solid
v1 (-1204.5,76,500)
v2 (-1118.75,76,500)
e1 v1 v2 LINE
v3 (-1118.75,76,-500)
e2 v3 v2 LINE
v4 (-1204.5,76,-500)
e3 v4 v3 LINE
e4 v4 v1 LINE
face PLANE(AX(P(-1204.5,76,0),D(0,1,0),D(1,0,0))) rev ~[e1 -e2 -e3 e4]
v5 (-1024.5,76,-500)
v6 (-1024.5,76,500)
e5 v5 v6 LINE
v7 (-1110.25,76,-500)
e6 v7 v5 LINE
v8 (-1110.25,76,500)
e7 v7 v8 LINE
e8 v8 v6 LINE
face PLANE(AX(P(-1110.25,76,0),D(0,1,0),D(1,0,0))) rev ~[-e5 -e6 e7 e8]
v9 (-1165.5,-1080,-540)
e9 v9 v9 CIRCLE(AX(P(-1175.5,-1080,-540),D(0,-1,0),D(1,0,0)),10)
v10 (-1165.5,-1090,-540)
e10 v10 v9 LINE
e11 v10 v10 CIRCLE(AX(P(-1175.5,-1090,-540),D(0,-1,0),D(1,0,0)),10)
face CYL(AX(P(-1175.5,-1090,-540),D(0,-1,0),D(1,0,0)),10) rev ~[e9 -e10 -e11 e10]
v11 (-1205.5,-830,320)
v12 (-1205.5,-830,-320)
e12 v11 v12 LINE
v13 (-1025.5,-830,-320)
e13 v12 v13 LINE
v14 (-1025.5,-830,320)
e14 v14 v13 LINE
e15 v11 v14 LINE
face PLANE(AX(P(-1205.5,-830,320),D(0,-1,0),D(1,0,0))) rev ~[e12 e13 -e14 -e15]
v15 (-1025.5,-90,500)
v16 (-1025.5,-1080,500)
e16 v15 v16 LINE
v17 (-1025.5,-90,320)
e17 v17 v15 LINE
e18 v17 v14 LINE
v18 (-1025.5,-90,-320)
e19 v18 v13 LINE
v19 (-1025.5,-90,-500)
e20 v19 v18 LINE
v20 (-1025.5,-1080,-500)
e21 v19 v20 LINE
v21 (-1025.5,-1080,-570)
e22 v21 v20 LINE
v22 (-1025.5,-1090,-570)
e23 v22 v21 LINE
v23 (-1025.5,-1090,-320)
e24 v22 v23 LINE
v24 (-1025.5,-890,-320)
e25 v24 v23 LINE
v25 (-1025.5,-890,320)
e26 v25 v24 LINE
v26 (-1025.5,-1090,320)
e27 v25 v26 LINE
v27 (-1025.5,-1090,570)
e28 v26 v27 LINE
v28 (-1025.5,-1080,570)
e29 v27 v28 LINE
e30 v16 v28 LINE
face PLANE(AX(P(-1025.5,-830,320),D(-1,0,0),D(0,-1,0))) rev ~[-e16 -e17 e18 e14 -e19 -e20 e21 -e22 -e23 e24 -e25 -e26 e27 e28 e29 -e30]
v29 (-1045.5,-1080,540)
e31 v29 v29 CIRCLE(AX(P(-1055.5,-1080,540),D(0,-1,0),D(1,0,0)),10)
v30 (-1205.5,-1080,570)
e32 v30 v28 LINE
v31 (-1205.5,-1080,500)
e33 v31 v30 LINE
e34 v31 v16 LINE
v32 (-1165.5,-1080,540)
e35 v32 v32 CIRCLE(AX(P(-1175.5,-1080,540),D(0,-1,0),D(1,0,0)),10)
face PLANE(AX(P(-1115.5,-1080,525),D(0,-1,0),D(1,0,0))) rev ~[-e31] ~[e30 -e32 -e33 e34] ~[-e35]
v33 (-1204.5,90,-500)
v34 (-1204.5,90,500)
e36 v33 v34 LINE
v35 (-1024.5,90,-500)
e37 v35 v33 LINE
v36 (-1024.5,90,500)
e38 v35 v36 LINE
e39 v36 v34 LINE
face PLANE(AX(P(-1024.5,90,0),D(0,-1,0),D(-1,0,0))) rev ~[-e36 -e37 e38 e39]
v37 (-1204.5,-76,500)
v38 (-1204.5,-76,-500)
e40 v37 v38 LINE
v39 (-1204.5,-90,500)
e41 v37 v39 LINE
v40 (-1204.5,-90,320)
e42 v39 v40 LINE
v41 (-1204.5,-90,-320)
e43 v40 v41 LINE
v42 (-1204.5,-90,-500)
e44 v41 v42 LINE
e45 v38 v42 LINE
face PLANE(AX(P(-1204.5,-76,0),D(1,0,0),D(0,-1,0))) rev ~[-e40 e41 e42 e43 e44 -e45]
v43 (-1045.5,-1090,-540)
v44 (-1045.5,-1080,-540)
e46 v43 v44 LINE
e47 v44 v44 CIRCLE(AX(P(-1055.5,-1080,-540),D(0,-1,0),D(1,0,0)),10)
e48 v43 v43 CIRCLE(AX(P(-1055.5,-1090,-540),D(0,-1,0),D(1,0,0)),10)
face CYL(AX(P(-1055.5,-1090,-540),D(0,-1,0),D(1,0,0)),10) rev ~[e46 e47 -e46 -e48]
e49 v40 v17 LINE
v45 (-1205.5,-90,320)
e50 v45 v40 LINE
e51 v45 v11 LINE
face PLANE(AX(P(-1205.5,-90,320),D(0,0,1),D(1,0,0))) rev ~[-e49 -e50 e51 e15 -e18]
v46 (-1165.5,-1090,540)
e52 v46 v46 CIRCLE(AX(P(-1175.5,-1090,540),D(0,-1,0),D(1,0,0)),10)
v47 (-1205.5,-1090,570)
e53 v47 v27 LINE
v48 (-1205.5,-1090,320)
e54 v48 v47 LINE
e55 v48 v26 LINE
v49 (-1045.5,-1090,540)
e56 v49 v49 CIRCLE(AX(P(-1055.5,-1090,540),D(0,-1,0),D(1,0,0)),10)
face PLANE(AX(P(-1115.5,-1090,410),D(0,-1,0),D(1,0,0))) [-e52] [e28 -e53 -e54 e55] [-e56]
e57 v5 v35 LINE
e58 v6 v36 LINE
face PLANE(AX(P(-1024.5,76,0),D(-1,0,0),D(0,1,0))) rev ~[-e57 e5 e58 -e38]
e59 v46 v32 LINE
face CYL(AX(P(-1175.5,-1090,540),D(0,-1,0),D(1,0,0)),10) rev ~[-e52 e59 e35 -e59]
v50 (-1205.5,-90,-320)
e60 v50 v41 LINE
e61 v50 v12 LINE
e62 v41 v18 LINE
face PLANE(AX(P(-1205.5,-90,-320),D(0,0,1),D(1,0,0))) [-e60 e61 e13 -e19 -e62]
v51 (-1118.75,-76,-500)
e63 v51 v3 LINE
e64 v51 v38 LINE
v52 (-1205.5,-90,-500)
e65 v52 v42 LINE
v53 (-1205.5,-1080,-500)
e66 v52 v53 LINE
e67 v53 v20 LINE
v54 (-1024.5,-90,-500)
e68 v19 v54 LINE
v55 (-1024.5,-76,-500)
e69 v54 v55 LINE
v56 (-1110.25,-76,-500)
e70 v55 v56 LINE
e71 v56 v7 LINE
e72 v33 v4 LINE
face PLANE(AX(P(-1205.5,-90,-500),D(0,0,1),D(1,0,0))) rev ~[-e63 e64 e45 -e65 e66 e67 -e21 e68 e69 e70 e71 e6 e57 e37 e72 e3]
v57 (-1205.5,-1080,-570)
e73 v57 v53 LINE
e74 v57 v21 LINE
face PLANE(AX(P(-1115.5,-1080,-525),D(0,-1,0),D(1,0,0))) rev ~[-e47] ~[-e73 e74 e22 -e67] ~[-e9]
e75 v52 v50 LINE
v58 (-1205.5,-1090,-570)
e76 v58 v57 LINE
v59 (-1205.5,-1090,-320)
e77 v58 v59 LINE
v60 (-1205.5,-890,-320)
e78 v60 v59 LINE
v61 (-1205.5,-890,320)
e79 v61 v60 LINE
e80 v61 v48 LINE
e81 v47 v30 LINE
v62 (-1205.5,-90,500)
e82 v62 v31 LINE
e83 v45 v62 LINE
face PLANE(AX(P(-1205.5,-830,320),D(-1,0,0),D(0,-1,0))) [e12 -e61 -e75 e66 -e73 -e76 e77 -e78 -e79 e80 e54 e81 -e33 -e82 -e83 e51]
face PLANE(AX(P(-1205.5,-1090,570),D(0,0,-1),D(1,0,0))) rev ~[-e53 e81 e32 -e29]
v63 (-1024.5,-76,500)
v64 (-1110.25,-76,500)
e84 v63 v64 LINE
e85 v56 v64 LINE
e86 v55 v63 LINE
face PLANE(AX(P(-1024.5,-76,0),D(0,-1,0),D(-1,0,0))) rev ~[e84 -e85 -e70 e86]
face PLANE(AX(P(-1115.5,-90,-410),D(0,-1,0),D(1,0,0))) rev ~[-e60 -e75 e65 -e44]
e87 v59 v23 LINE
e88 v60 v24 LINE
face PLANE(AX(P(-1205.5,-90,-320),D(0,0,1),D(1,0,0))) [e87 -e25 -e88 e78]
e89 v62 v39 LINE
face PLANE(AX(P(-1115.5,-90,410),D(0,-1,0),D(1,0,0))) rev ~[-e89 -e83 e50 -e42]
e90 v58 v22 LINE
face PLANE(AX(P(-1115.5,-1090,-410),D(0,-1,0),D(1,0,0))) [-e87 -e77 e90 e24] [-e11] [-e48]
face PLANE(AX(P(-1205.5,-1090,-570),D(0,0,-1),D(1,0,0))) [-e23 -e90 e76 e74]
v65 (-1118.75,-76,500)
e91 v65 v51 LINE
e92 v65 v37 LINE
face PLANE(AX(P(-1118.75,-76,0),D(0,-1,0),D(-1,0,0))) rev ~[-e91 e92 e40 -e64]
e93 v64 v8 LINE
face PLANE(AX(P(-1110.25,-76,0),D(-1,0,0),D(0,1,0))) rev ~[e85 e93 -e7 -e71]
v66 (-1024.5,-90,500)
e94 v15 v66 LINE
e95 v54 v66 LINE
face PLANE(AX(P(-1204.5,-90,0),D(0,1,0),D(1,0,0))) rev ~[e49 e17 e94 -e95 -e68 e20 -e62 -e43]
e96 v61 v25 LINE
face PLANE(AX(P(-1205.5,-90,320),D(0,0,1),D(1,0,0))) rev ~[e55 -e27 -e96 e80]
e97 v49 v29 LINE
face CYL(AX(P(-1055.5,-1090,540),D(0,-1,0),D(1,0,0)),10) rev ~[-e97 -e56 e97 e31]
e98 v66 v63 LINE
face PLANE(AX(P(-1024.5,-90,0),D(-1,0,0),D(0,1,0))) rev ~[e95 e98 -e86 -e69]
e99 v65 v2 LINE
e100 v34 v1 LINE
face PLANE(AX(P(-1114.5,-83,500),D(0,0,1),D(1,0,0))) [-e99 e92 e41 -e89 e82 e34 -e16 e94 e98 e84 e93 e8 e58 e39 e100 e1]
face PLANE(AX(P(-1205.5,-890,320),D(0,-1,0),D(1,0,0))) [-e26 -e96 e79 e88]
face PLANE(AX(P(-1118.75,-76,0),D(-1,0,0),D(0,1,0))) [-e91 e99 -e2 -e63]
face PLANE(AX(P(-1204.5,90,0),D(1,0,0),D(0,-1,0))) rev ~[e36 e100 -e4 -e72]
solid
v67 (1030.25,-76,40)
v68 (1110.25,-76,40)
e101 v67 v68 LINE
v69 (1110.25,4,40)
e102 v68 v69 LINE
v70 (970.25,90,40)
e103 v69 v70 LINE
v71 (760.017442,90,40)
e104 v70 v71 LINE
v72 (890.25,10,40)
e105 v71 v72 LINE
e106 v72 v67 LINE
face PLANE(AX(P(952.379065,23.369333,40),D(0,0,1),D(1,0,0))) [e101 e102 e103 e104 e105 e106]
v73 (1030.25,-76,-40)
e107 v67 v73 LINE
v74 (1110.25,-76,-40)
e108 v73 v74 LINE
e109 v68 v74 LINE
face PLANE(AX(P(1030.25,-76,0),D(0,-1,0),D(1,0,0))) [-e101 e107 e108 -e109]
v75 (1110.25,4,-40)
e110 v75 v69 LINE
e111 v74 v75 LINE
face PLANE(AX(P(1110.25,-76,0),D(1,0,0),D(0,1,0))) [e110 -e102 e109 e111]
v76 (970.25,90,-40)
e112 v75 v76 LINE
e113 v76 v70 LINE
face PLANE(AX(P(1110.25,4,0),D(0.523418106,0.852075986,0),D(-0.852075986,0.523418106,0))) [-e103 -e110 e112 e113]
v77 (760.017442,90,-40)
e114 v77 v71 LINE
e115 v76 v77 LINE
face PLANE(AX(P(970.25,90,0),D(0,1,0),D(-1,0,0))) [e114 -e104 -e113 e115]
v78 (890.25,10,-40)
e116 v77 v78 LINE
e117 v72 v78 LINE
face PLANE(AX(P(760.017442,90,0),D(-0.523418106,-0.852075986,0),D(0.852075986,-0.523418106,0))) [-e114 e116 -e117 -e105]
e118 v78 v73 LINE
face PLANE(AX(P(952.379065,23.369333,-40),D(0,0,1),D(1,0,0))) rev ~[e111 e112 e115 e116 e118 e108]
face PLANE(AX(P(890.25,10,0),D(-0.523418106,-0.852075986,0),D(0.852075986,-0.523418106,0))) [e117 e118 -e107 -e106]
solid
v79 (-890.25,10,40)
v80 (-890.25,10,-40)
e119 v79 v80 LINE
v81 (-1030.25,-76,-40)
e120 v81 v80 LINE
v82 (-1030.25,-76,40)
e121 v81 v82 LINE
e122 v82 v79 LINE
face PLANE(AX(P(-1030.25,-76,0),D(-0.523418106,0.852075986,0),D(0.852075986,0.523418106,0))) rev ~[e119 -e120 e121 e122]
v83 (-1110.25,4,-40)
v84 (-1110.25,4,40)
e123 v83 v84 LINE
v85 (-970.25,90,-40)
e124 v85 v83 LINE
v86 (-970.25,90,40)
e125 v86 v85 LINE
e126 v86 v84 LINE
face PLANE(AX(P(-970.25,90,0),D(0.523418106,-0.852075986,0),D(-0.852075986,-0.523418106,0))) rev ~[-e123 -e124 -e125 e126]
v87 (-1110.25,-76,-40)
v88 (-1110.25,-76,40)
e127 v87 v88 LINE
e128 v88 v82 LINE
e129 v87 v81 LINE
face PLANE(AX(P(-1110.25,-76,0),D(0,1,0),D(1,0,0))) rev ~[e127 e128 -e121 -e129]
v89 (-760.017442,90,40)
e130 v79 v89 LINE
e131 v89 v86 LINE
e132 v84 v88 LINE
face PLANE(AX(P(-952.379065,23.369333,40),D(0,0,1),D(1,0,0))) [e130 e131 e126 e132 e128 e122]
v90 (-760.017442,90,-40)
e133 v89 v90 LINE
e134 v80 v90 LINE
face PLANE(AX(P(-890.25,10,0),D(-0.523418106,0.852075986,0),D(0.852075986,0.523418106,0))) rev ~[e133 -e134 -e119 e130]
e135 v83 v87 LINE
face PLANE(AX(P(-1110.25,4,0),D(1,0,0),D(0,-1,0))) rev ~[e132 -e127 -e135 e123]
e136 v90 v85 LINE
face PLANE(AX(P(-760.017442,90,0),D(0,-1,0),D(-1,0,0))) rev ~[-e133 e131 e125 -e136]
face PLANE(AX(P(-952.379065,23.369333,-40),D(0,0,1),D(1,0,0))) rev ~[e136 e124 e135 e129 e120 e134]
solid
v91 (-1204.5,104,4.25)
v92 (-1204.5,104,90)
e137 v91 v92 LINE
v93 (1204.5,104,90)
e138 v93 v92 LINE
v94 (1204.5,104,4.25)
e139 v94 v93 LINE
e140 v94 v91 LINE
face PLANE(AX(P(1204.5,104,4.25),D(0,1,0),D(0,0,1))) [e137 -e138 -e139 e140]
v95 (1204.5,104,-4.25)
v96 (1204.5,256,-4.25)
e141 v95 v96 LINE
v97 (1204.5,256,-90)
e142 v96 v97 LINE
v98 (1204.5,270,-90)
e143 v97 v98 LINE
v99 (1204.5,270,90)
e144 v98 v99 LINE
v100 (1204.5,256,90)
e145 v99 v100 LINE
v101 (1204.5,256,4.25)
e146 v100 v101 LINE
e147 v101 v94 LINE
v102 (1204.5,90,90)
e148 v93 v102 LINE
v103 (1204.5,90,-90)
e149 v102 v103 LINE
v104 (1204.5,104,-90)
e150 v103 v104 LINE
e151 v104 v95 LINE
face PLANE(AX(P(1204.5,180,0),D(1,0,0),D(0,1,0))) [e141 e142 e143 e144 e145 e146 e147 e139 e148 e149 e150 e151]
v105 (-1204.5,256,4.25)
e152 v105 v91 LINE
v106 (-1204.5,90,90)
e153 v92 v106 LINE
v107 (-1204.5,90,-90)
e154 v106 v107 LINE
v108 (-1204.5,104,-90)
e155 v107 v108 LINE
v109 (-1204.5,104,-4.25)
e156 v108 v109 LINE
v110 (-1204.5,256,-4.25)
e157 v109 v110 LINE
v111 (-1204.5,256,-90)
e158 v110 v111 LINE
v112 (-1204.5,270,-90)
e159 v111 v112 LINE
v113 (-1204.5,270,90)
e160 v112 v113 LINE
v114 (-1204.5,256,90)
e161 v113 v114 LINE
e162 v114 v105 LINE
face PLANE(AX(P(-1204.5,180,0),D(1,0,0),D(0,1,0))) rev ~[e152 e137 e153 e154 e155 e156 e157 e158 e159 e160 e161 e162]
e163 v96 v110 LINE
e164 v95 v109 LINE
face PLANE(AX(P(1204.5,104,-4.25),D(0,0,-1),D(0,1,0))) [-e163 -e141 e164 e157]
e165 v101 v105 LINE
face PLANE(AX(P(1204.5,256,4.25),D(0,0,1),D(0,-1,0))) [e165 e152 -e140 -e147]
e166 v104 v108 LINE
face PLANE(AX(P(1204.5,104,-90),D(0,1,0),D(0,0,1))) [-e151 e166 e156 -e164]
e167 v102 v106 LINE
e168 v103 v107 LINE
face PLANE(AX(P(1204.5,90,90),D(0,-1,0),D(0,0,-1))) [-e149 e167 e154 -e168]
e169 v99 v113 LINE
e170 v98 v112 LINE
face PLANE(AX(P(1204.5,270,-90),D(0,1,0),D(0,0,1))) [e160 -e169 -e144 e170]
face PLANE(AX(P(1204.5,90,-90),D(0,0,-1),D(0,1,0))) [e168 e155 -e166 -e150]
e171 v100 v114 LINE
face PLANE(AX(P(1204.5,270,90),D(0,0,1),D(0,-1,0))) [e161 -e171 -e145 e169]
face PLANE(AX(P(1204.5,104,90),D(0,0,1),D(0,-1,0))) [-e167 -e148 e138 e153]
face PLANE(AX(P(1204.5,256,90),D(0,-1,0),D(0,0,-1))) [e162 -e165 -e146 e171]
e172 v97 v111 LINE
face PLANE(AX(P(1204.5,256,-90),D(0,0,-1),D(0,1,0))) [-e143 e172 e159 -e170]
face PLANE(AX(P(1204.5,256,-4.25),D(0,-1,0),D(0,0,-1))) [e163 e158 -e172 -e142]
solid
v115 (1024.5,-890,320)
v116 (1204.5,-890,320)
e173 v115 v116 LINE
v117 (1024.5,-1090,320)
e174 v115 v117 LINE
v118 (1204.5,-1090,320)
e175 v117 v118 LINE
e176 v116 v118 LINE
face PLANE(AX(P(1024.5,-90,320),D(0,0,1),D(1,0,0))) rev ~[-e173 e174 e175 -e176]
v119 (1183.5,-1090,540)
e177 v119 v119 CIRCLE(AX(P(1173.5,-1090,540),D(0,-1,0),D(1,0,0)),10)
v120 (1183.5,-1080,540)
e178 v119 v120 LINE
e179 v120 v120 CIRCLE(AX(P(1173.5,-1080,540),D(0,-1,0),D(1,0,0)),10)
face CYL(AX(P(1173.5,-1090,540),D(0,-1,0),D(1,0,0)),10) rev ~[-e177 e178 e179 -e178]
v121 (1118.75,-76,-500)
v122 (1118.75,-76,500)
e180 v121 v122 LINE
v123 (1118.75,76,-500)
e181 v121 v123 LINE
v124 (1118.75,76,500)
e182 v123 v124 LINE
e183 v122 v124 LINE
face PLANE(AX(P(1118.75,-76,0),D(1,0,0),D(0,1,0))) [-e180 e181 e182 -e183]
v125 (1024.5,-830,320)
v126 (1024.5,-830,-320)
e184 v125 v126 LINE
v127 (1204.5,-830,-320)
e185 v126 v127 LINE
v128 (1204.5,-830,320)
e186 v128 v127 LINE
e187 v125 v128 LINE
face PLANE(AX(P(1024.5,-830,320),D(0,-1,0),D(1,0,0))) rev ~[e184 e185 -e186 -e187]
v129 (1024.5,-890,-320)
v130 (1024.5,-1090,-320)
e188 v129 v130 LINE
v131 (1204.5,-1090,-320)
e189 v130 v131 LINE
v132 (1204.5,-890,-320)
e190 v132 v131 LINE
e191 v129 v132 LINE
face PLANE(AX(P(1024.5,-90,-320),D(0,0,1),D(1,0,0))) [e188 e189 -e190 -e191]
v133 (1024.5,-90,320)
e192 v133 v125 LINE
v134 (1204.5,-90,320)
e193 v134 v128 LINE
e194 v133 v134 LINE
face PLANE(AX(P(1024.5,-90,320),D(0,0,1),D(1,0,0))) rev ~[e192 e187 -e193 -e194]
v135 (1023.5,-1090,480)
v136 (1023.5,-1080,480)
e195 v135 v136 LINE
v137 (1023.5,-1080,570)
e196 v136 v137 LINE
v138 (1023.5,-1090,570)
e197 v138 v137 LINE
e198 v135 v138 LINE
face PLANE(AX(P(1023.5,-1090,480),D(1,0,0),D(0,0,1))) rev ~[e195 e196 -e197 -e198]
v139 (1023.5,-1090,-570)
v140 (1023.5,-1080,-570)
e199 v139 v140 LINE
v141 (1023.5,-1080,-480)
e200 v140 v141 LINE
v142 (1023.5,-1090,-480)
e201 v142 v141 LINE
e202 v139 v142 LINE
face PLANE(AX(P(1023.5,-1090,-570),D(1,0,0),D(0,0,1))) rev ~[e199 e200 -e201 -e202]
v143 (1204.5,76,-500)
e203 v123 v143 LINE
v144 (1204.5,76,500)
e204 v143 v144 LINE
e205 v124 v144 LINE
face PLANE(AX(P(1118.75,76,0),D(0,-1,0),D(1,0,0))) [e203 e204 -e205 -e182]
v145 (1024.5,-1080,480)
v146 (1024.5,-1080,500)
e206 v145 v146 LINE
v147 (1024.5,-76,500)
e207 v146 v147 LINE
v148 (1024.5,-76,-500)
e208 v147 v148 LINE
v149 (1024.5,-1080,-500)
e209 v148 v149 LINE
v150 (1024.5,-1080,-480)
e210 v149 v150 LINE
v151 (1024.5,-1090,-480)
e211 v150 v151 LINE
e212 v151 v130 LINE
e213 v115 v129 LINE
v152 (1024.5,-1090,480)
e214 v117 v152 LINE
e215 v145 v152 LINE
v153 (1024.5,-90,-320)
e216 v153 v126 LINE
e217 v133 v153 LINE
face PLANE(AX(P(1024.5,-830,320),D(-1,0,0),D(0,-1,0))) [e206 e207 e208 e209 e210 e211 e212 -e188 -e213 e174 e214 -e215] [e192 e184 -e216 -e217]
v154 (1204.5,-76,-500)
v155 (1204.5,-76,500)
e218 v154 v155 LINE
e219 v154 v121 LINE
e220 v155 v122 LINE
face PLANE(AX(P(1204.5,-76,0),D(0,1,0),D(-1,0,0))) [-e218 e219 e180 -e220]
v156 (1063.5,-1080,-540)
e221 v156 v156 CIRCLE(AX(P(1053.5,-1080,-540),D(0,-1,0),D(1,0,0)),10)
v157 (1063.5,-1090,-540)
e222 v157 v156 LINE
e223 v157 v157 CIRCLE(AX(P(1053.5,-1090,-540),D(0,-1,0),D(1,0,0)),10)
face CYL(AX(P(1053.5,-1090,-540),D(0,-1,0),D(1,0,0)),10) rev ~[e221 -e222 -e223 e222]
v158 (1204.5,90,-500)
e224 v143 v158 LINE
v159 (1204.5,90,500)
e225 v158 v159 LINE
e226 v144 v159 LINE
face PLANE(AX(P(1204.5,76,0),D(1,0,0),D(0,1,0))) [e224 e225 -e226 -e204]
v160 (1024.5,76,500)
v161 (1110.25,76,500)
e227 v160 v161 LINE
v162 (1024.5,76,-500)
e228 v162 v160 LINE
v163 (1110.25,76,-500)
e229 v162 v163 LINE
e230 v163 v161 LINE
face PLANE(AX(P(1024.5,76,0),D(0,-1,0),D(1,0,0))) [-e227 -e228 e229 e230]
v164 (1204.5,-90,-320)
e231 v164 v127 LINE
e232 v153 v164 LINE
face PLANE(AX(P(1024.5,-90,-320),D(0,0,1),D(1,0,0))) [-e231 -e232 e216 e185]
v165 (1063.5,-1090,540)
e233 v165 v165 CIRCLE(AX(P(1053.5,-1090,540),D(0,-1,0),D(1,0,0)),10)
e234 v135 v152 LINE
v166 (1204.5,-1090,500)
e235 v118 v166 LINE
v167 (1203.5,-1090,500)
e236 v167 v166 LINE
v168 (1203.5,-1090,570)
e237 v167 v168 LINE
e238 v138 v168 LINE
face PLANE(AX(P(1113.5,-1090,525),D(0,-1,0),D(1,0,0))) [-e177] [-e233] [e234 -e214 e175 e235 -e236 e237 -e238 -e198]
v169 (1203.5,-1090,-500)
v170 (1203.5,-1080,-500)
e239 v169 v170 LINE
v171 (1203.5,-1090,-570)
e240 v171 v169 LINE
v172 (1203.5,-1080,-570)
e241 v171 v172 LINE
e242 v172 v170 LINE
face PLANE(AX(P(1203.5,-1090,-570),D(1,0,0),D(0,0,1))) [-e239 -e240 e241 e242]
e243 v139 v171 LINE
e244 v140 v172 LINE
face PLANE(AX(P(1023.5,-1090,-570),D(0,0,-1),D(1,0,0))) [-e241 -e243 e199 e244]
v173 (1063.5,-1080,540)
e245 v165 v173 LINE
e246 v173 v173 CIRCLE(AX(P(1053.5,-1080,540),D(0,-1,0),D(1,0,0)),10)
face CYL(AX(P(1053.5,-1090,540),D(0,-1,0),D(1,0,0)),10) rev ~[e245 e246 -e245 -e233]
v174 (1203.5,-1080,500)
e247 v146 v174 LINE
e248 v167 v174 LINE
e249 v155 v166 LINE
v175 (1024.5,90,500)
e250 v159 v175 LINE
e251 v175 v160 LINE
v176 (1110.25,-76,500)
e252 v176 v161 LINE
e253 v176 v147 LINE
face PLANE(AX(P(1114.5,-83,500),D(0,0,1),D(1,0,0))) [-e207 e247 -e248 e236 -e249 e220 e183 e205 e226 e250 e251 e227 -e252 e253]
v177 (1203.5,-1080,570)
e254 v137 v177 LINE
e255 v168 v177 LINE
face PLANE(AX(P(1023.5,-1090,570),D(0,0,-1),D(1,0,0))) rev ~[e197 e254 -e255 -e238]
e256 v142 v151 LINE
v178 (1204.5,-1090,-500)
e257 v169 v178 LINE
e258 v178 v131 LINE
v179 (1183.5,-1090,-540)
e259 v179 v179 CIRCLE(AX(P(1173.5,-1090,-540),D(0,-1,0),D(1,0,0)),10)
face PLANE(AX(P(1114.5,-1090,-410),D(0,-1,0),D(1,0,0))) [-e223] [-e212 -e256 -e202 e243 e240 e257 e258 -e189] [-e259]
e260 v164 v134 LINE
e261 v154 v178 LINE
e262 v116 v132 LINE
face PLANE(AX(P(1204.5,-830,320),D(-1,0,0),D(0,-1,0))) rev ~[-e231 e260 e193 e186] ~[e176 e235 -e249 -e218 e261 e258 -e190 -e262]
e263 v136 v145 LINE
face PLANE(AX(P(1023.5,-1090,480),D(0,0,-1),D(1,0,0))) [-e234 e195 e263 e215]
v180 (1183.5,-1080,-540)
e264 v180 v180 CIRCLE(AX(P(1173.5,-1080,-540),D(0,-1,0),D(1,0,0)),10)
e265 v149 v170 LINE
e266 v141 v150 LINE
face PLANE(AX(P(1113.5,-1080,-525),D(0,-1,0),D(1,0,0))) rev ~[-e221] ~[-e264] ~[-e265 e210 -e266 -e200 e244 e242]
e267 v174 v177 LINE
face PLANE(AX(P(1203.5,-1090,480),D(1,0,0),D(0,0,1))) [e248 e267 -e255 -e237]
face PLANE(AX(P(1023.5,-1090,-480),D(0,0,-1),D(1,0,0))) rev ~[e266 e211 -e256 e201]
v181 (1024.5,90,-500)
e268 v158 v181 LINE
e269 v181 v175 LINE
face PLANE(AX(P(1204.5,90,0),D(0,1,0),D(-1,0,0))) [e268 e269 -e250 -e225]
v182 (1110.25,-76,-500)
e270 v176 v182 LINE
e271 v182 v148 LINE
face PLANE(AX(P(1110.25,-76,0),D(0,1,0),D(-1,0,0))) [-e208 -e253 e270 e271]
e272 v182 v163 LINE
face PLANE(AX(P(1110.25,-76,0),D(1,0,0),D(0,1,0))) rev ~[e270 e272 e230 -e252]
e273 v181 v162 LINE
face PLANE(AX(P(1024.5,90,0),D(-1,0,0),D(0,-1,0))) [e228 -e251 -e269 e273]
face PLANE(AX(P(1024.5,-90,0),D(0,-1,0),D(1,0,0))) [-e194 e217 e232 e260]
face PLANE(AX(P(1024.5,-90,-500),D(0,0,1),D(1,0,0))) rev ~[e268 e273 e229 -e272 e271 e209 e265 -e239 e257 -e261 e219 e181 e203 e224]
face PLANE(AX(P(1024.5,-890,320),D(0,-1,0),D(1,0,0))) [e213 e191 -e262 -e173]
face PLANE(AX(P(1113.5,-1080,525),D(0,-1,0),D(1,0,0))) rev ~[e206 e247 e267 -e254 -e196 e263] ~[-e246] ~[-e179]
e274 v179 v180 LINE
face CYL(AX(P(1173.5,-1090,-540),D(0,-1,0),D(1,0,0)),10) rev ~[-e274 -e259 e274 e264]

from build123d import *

# Parameters (mm, degrees)
F0_W      = 8.5
F0_H      = 152
F1_DEPTH  = 500
F3_DEPTH  = 2409
F4_W      = 180
F4_H      = 180
F5_DEPTH  = 1000
F6_W      = 180
F6_H      = 60
F7_DEPTH  = 700
F8_W      = 180
F8_H      = 60
F9_DEPTH  = 700
F11_DEPTH = 40
F12_W     = 180
F12_H     = 90
F13_DEPTH = 10
F14_R     = 10
F15_DEPTH = 25


with BuildPart() as f1:
    # F0 (on Top) → F1 (new body, symmetric)
    with BuildSketch(Plane.XY):
        Polygon((-1204.5, -90), (-1024.5, -90), (-1024.5, -76), (-1110.25, -76), (-1118.75, -76), (-1204.5, -76), align=None)
        with Locations((-1114.5, 0)):
            Rectangle(F0_W, F0_H)
        Polygon((-1118.75, 76), (-1110.25, 76), (-1024.5, 76), (-1024.5, 90), (-1204.5, 90), (-1204.5, 76), align=None)
        Polygon((1024.5, -90), (1204.5, -90), (1204.5, -76), (1118.75, -76), (1110.25, -76), (1024.5, -76), align=None)
        with Locations((1114.5, 0)):
            Rectangle(F0_W, F0_H)
        Polygon((1110.25, 76), (1118.75, 76), (1204.5, 76), (1204.5, 90), (1024.5, 90), (1024.5, 76), align=None)
    extrude(amount=F1_DEPTH, both=True)

    # F4 (on face) → F5 (join)
    with BuildSketch(Plane.XZ.offset(90)):
        with Locations((1114.5, -410)):
            Rectangle(F4_W, F4_H)
        with Locations((-1115.5, -410)):
            Rectangle(F4_W, F4_H)
        with Locations((-1115.5, 410)):
            Rectangle(F4_W, F4_H)
        with Locations((1114.5, 410)):
            Rectangle(F4_W, F4_H)
    extrude(amount=F5_DEPTH)

    # F6 (on face) → F7 (join)
    with BuildSketch(Plane(origin=(0, 0, 320), x_dir=(1, 0, 0), z_dir=(0, 0, -1))):
        with Locations((1114.5, 860)):
            Rectangle(F6_W, F6_H)
    extrude(amount=F7_DEPTH)

    # F8 (on face) → F9 (join)
    with BuildSketch(Plane(origin=(0, 0, 320), x_dir=(1, 0, 0), z_dir=(0, 0, -1))):
        with Locations((-1115.5, 860)):
            Rectangle(F8_W, F8_H)
    extrude(amount=F9_DEPTH)

    # F12 (on face) → F13 (join)
    with BuildSketch(Plane.XZ.offset(1090)):
        with Locations((-1115.5, 525)):
            Rectangle(F12_W, F12_H)
        with Locations((-1115.5, -525)):
            Rectangle(F12_W, F12_H)
        with Locations((1113.5, 525)):
            Rectangle(F12_W, F12_H)
        with Locations((1113.5, -525)):
            Rectangle(F12_W, F12_H)
    extrude(amount=-F13_DEPTH)

    # F14 (on face) → F15 (cut)
    with BuildSketch(Plane.XZ.offset(1090)):
        with Locations((-1175.5, 540)):
            Circle(F14_R)
        with Locations((-1055.5, 540)):
            Circle(F14_R)
        with Locations((-1055.5, -540)):
            Circle(F14_R)
        with Locations((-1175.5, -540)):
            Circle(F14_R)
        with Locations((1173.5, 540)):
            Circle(F14_R)
        with Locations((1053.5, 540)):
            Circle(F14_R)
        with Locations((1173.5, -540)):
            Circle(F14_R)
        with Locations((1053.5, -540)):
            Circle(F14_R)
    extrude(amount=-F15_DEPTH, mode=Mode.SUBTRACT)


with BuildPart() as f3:
    # F2 (on face) → F3 (new body)
    with BuildSketch(Plane.YZ.offset(1204.5)):
        Polygon((90, 90), (90, -90), (104, -90), (104, -4.25), (256, -4.25), (256, -90), (270, -90), (270, 90), (256, 90), (256, 4.25), (104, 4.25), (104, 90), align=None)
    extrude(amount=-F3_DEPTH)


with BuildPart() as f11:
    # F10 (on Top) → F11 (new body, symmetric)
    with BuildSketch(Plane.XY):
        Polygon((-890.25, 90), (-970.25, 90), (-1110.25, 4), (-1110.25, -76), (-1030.25, -76), (-890.25, 10), (-760.017442, 90), align=None)
        Polygon((1110.25, -76), (1110.25, 4), (970.25, 90), (890.25, 90), (760.017442, 90), (890.25, 10), (1030.25, -76), align=None)
    extrude(amount=F11_DEPTH, both=True)


solid = Compound([f1.part, f3.part, f11.part])
